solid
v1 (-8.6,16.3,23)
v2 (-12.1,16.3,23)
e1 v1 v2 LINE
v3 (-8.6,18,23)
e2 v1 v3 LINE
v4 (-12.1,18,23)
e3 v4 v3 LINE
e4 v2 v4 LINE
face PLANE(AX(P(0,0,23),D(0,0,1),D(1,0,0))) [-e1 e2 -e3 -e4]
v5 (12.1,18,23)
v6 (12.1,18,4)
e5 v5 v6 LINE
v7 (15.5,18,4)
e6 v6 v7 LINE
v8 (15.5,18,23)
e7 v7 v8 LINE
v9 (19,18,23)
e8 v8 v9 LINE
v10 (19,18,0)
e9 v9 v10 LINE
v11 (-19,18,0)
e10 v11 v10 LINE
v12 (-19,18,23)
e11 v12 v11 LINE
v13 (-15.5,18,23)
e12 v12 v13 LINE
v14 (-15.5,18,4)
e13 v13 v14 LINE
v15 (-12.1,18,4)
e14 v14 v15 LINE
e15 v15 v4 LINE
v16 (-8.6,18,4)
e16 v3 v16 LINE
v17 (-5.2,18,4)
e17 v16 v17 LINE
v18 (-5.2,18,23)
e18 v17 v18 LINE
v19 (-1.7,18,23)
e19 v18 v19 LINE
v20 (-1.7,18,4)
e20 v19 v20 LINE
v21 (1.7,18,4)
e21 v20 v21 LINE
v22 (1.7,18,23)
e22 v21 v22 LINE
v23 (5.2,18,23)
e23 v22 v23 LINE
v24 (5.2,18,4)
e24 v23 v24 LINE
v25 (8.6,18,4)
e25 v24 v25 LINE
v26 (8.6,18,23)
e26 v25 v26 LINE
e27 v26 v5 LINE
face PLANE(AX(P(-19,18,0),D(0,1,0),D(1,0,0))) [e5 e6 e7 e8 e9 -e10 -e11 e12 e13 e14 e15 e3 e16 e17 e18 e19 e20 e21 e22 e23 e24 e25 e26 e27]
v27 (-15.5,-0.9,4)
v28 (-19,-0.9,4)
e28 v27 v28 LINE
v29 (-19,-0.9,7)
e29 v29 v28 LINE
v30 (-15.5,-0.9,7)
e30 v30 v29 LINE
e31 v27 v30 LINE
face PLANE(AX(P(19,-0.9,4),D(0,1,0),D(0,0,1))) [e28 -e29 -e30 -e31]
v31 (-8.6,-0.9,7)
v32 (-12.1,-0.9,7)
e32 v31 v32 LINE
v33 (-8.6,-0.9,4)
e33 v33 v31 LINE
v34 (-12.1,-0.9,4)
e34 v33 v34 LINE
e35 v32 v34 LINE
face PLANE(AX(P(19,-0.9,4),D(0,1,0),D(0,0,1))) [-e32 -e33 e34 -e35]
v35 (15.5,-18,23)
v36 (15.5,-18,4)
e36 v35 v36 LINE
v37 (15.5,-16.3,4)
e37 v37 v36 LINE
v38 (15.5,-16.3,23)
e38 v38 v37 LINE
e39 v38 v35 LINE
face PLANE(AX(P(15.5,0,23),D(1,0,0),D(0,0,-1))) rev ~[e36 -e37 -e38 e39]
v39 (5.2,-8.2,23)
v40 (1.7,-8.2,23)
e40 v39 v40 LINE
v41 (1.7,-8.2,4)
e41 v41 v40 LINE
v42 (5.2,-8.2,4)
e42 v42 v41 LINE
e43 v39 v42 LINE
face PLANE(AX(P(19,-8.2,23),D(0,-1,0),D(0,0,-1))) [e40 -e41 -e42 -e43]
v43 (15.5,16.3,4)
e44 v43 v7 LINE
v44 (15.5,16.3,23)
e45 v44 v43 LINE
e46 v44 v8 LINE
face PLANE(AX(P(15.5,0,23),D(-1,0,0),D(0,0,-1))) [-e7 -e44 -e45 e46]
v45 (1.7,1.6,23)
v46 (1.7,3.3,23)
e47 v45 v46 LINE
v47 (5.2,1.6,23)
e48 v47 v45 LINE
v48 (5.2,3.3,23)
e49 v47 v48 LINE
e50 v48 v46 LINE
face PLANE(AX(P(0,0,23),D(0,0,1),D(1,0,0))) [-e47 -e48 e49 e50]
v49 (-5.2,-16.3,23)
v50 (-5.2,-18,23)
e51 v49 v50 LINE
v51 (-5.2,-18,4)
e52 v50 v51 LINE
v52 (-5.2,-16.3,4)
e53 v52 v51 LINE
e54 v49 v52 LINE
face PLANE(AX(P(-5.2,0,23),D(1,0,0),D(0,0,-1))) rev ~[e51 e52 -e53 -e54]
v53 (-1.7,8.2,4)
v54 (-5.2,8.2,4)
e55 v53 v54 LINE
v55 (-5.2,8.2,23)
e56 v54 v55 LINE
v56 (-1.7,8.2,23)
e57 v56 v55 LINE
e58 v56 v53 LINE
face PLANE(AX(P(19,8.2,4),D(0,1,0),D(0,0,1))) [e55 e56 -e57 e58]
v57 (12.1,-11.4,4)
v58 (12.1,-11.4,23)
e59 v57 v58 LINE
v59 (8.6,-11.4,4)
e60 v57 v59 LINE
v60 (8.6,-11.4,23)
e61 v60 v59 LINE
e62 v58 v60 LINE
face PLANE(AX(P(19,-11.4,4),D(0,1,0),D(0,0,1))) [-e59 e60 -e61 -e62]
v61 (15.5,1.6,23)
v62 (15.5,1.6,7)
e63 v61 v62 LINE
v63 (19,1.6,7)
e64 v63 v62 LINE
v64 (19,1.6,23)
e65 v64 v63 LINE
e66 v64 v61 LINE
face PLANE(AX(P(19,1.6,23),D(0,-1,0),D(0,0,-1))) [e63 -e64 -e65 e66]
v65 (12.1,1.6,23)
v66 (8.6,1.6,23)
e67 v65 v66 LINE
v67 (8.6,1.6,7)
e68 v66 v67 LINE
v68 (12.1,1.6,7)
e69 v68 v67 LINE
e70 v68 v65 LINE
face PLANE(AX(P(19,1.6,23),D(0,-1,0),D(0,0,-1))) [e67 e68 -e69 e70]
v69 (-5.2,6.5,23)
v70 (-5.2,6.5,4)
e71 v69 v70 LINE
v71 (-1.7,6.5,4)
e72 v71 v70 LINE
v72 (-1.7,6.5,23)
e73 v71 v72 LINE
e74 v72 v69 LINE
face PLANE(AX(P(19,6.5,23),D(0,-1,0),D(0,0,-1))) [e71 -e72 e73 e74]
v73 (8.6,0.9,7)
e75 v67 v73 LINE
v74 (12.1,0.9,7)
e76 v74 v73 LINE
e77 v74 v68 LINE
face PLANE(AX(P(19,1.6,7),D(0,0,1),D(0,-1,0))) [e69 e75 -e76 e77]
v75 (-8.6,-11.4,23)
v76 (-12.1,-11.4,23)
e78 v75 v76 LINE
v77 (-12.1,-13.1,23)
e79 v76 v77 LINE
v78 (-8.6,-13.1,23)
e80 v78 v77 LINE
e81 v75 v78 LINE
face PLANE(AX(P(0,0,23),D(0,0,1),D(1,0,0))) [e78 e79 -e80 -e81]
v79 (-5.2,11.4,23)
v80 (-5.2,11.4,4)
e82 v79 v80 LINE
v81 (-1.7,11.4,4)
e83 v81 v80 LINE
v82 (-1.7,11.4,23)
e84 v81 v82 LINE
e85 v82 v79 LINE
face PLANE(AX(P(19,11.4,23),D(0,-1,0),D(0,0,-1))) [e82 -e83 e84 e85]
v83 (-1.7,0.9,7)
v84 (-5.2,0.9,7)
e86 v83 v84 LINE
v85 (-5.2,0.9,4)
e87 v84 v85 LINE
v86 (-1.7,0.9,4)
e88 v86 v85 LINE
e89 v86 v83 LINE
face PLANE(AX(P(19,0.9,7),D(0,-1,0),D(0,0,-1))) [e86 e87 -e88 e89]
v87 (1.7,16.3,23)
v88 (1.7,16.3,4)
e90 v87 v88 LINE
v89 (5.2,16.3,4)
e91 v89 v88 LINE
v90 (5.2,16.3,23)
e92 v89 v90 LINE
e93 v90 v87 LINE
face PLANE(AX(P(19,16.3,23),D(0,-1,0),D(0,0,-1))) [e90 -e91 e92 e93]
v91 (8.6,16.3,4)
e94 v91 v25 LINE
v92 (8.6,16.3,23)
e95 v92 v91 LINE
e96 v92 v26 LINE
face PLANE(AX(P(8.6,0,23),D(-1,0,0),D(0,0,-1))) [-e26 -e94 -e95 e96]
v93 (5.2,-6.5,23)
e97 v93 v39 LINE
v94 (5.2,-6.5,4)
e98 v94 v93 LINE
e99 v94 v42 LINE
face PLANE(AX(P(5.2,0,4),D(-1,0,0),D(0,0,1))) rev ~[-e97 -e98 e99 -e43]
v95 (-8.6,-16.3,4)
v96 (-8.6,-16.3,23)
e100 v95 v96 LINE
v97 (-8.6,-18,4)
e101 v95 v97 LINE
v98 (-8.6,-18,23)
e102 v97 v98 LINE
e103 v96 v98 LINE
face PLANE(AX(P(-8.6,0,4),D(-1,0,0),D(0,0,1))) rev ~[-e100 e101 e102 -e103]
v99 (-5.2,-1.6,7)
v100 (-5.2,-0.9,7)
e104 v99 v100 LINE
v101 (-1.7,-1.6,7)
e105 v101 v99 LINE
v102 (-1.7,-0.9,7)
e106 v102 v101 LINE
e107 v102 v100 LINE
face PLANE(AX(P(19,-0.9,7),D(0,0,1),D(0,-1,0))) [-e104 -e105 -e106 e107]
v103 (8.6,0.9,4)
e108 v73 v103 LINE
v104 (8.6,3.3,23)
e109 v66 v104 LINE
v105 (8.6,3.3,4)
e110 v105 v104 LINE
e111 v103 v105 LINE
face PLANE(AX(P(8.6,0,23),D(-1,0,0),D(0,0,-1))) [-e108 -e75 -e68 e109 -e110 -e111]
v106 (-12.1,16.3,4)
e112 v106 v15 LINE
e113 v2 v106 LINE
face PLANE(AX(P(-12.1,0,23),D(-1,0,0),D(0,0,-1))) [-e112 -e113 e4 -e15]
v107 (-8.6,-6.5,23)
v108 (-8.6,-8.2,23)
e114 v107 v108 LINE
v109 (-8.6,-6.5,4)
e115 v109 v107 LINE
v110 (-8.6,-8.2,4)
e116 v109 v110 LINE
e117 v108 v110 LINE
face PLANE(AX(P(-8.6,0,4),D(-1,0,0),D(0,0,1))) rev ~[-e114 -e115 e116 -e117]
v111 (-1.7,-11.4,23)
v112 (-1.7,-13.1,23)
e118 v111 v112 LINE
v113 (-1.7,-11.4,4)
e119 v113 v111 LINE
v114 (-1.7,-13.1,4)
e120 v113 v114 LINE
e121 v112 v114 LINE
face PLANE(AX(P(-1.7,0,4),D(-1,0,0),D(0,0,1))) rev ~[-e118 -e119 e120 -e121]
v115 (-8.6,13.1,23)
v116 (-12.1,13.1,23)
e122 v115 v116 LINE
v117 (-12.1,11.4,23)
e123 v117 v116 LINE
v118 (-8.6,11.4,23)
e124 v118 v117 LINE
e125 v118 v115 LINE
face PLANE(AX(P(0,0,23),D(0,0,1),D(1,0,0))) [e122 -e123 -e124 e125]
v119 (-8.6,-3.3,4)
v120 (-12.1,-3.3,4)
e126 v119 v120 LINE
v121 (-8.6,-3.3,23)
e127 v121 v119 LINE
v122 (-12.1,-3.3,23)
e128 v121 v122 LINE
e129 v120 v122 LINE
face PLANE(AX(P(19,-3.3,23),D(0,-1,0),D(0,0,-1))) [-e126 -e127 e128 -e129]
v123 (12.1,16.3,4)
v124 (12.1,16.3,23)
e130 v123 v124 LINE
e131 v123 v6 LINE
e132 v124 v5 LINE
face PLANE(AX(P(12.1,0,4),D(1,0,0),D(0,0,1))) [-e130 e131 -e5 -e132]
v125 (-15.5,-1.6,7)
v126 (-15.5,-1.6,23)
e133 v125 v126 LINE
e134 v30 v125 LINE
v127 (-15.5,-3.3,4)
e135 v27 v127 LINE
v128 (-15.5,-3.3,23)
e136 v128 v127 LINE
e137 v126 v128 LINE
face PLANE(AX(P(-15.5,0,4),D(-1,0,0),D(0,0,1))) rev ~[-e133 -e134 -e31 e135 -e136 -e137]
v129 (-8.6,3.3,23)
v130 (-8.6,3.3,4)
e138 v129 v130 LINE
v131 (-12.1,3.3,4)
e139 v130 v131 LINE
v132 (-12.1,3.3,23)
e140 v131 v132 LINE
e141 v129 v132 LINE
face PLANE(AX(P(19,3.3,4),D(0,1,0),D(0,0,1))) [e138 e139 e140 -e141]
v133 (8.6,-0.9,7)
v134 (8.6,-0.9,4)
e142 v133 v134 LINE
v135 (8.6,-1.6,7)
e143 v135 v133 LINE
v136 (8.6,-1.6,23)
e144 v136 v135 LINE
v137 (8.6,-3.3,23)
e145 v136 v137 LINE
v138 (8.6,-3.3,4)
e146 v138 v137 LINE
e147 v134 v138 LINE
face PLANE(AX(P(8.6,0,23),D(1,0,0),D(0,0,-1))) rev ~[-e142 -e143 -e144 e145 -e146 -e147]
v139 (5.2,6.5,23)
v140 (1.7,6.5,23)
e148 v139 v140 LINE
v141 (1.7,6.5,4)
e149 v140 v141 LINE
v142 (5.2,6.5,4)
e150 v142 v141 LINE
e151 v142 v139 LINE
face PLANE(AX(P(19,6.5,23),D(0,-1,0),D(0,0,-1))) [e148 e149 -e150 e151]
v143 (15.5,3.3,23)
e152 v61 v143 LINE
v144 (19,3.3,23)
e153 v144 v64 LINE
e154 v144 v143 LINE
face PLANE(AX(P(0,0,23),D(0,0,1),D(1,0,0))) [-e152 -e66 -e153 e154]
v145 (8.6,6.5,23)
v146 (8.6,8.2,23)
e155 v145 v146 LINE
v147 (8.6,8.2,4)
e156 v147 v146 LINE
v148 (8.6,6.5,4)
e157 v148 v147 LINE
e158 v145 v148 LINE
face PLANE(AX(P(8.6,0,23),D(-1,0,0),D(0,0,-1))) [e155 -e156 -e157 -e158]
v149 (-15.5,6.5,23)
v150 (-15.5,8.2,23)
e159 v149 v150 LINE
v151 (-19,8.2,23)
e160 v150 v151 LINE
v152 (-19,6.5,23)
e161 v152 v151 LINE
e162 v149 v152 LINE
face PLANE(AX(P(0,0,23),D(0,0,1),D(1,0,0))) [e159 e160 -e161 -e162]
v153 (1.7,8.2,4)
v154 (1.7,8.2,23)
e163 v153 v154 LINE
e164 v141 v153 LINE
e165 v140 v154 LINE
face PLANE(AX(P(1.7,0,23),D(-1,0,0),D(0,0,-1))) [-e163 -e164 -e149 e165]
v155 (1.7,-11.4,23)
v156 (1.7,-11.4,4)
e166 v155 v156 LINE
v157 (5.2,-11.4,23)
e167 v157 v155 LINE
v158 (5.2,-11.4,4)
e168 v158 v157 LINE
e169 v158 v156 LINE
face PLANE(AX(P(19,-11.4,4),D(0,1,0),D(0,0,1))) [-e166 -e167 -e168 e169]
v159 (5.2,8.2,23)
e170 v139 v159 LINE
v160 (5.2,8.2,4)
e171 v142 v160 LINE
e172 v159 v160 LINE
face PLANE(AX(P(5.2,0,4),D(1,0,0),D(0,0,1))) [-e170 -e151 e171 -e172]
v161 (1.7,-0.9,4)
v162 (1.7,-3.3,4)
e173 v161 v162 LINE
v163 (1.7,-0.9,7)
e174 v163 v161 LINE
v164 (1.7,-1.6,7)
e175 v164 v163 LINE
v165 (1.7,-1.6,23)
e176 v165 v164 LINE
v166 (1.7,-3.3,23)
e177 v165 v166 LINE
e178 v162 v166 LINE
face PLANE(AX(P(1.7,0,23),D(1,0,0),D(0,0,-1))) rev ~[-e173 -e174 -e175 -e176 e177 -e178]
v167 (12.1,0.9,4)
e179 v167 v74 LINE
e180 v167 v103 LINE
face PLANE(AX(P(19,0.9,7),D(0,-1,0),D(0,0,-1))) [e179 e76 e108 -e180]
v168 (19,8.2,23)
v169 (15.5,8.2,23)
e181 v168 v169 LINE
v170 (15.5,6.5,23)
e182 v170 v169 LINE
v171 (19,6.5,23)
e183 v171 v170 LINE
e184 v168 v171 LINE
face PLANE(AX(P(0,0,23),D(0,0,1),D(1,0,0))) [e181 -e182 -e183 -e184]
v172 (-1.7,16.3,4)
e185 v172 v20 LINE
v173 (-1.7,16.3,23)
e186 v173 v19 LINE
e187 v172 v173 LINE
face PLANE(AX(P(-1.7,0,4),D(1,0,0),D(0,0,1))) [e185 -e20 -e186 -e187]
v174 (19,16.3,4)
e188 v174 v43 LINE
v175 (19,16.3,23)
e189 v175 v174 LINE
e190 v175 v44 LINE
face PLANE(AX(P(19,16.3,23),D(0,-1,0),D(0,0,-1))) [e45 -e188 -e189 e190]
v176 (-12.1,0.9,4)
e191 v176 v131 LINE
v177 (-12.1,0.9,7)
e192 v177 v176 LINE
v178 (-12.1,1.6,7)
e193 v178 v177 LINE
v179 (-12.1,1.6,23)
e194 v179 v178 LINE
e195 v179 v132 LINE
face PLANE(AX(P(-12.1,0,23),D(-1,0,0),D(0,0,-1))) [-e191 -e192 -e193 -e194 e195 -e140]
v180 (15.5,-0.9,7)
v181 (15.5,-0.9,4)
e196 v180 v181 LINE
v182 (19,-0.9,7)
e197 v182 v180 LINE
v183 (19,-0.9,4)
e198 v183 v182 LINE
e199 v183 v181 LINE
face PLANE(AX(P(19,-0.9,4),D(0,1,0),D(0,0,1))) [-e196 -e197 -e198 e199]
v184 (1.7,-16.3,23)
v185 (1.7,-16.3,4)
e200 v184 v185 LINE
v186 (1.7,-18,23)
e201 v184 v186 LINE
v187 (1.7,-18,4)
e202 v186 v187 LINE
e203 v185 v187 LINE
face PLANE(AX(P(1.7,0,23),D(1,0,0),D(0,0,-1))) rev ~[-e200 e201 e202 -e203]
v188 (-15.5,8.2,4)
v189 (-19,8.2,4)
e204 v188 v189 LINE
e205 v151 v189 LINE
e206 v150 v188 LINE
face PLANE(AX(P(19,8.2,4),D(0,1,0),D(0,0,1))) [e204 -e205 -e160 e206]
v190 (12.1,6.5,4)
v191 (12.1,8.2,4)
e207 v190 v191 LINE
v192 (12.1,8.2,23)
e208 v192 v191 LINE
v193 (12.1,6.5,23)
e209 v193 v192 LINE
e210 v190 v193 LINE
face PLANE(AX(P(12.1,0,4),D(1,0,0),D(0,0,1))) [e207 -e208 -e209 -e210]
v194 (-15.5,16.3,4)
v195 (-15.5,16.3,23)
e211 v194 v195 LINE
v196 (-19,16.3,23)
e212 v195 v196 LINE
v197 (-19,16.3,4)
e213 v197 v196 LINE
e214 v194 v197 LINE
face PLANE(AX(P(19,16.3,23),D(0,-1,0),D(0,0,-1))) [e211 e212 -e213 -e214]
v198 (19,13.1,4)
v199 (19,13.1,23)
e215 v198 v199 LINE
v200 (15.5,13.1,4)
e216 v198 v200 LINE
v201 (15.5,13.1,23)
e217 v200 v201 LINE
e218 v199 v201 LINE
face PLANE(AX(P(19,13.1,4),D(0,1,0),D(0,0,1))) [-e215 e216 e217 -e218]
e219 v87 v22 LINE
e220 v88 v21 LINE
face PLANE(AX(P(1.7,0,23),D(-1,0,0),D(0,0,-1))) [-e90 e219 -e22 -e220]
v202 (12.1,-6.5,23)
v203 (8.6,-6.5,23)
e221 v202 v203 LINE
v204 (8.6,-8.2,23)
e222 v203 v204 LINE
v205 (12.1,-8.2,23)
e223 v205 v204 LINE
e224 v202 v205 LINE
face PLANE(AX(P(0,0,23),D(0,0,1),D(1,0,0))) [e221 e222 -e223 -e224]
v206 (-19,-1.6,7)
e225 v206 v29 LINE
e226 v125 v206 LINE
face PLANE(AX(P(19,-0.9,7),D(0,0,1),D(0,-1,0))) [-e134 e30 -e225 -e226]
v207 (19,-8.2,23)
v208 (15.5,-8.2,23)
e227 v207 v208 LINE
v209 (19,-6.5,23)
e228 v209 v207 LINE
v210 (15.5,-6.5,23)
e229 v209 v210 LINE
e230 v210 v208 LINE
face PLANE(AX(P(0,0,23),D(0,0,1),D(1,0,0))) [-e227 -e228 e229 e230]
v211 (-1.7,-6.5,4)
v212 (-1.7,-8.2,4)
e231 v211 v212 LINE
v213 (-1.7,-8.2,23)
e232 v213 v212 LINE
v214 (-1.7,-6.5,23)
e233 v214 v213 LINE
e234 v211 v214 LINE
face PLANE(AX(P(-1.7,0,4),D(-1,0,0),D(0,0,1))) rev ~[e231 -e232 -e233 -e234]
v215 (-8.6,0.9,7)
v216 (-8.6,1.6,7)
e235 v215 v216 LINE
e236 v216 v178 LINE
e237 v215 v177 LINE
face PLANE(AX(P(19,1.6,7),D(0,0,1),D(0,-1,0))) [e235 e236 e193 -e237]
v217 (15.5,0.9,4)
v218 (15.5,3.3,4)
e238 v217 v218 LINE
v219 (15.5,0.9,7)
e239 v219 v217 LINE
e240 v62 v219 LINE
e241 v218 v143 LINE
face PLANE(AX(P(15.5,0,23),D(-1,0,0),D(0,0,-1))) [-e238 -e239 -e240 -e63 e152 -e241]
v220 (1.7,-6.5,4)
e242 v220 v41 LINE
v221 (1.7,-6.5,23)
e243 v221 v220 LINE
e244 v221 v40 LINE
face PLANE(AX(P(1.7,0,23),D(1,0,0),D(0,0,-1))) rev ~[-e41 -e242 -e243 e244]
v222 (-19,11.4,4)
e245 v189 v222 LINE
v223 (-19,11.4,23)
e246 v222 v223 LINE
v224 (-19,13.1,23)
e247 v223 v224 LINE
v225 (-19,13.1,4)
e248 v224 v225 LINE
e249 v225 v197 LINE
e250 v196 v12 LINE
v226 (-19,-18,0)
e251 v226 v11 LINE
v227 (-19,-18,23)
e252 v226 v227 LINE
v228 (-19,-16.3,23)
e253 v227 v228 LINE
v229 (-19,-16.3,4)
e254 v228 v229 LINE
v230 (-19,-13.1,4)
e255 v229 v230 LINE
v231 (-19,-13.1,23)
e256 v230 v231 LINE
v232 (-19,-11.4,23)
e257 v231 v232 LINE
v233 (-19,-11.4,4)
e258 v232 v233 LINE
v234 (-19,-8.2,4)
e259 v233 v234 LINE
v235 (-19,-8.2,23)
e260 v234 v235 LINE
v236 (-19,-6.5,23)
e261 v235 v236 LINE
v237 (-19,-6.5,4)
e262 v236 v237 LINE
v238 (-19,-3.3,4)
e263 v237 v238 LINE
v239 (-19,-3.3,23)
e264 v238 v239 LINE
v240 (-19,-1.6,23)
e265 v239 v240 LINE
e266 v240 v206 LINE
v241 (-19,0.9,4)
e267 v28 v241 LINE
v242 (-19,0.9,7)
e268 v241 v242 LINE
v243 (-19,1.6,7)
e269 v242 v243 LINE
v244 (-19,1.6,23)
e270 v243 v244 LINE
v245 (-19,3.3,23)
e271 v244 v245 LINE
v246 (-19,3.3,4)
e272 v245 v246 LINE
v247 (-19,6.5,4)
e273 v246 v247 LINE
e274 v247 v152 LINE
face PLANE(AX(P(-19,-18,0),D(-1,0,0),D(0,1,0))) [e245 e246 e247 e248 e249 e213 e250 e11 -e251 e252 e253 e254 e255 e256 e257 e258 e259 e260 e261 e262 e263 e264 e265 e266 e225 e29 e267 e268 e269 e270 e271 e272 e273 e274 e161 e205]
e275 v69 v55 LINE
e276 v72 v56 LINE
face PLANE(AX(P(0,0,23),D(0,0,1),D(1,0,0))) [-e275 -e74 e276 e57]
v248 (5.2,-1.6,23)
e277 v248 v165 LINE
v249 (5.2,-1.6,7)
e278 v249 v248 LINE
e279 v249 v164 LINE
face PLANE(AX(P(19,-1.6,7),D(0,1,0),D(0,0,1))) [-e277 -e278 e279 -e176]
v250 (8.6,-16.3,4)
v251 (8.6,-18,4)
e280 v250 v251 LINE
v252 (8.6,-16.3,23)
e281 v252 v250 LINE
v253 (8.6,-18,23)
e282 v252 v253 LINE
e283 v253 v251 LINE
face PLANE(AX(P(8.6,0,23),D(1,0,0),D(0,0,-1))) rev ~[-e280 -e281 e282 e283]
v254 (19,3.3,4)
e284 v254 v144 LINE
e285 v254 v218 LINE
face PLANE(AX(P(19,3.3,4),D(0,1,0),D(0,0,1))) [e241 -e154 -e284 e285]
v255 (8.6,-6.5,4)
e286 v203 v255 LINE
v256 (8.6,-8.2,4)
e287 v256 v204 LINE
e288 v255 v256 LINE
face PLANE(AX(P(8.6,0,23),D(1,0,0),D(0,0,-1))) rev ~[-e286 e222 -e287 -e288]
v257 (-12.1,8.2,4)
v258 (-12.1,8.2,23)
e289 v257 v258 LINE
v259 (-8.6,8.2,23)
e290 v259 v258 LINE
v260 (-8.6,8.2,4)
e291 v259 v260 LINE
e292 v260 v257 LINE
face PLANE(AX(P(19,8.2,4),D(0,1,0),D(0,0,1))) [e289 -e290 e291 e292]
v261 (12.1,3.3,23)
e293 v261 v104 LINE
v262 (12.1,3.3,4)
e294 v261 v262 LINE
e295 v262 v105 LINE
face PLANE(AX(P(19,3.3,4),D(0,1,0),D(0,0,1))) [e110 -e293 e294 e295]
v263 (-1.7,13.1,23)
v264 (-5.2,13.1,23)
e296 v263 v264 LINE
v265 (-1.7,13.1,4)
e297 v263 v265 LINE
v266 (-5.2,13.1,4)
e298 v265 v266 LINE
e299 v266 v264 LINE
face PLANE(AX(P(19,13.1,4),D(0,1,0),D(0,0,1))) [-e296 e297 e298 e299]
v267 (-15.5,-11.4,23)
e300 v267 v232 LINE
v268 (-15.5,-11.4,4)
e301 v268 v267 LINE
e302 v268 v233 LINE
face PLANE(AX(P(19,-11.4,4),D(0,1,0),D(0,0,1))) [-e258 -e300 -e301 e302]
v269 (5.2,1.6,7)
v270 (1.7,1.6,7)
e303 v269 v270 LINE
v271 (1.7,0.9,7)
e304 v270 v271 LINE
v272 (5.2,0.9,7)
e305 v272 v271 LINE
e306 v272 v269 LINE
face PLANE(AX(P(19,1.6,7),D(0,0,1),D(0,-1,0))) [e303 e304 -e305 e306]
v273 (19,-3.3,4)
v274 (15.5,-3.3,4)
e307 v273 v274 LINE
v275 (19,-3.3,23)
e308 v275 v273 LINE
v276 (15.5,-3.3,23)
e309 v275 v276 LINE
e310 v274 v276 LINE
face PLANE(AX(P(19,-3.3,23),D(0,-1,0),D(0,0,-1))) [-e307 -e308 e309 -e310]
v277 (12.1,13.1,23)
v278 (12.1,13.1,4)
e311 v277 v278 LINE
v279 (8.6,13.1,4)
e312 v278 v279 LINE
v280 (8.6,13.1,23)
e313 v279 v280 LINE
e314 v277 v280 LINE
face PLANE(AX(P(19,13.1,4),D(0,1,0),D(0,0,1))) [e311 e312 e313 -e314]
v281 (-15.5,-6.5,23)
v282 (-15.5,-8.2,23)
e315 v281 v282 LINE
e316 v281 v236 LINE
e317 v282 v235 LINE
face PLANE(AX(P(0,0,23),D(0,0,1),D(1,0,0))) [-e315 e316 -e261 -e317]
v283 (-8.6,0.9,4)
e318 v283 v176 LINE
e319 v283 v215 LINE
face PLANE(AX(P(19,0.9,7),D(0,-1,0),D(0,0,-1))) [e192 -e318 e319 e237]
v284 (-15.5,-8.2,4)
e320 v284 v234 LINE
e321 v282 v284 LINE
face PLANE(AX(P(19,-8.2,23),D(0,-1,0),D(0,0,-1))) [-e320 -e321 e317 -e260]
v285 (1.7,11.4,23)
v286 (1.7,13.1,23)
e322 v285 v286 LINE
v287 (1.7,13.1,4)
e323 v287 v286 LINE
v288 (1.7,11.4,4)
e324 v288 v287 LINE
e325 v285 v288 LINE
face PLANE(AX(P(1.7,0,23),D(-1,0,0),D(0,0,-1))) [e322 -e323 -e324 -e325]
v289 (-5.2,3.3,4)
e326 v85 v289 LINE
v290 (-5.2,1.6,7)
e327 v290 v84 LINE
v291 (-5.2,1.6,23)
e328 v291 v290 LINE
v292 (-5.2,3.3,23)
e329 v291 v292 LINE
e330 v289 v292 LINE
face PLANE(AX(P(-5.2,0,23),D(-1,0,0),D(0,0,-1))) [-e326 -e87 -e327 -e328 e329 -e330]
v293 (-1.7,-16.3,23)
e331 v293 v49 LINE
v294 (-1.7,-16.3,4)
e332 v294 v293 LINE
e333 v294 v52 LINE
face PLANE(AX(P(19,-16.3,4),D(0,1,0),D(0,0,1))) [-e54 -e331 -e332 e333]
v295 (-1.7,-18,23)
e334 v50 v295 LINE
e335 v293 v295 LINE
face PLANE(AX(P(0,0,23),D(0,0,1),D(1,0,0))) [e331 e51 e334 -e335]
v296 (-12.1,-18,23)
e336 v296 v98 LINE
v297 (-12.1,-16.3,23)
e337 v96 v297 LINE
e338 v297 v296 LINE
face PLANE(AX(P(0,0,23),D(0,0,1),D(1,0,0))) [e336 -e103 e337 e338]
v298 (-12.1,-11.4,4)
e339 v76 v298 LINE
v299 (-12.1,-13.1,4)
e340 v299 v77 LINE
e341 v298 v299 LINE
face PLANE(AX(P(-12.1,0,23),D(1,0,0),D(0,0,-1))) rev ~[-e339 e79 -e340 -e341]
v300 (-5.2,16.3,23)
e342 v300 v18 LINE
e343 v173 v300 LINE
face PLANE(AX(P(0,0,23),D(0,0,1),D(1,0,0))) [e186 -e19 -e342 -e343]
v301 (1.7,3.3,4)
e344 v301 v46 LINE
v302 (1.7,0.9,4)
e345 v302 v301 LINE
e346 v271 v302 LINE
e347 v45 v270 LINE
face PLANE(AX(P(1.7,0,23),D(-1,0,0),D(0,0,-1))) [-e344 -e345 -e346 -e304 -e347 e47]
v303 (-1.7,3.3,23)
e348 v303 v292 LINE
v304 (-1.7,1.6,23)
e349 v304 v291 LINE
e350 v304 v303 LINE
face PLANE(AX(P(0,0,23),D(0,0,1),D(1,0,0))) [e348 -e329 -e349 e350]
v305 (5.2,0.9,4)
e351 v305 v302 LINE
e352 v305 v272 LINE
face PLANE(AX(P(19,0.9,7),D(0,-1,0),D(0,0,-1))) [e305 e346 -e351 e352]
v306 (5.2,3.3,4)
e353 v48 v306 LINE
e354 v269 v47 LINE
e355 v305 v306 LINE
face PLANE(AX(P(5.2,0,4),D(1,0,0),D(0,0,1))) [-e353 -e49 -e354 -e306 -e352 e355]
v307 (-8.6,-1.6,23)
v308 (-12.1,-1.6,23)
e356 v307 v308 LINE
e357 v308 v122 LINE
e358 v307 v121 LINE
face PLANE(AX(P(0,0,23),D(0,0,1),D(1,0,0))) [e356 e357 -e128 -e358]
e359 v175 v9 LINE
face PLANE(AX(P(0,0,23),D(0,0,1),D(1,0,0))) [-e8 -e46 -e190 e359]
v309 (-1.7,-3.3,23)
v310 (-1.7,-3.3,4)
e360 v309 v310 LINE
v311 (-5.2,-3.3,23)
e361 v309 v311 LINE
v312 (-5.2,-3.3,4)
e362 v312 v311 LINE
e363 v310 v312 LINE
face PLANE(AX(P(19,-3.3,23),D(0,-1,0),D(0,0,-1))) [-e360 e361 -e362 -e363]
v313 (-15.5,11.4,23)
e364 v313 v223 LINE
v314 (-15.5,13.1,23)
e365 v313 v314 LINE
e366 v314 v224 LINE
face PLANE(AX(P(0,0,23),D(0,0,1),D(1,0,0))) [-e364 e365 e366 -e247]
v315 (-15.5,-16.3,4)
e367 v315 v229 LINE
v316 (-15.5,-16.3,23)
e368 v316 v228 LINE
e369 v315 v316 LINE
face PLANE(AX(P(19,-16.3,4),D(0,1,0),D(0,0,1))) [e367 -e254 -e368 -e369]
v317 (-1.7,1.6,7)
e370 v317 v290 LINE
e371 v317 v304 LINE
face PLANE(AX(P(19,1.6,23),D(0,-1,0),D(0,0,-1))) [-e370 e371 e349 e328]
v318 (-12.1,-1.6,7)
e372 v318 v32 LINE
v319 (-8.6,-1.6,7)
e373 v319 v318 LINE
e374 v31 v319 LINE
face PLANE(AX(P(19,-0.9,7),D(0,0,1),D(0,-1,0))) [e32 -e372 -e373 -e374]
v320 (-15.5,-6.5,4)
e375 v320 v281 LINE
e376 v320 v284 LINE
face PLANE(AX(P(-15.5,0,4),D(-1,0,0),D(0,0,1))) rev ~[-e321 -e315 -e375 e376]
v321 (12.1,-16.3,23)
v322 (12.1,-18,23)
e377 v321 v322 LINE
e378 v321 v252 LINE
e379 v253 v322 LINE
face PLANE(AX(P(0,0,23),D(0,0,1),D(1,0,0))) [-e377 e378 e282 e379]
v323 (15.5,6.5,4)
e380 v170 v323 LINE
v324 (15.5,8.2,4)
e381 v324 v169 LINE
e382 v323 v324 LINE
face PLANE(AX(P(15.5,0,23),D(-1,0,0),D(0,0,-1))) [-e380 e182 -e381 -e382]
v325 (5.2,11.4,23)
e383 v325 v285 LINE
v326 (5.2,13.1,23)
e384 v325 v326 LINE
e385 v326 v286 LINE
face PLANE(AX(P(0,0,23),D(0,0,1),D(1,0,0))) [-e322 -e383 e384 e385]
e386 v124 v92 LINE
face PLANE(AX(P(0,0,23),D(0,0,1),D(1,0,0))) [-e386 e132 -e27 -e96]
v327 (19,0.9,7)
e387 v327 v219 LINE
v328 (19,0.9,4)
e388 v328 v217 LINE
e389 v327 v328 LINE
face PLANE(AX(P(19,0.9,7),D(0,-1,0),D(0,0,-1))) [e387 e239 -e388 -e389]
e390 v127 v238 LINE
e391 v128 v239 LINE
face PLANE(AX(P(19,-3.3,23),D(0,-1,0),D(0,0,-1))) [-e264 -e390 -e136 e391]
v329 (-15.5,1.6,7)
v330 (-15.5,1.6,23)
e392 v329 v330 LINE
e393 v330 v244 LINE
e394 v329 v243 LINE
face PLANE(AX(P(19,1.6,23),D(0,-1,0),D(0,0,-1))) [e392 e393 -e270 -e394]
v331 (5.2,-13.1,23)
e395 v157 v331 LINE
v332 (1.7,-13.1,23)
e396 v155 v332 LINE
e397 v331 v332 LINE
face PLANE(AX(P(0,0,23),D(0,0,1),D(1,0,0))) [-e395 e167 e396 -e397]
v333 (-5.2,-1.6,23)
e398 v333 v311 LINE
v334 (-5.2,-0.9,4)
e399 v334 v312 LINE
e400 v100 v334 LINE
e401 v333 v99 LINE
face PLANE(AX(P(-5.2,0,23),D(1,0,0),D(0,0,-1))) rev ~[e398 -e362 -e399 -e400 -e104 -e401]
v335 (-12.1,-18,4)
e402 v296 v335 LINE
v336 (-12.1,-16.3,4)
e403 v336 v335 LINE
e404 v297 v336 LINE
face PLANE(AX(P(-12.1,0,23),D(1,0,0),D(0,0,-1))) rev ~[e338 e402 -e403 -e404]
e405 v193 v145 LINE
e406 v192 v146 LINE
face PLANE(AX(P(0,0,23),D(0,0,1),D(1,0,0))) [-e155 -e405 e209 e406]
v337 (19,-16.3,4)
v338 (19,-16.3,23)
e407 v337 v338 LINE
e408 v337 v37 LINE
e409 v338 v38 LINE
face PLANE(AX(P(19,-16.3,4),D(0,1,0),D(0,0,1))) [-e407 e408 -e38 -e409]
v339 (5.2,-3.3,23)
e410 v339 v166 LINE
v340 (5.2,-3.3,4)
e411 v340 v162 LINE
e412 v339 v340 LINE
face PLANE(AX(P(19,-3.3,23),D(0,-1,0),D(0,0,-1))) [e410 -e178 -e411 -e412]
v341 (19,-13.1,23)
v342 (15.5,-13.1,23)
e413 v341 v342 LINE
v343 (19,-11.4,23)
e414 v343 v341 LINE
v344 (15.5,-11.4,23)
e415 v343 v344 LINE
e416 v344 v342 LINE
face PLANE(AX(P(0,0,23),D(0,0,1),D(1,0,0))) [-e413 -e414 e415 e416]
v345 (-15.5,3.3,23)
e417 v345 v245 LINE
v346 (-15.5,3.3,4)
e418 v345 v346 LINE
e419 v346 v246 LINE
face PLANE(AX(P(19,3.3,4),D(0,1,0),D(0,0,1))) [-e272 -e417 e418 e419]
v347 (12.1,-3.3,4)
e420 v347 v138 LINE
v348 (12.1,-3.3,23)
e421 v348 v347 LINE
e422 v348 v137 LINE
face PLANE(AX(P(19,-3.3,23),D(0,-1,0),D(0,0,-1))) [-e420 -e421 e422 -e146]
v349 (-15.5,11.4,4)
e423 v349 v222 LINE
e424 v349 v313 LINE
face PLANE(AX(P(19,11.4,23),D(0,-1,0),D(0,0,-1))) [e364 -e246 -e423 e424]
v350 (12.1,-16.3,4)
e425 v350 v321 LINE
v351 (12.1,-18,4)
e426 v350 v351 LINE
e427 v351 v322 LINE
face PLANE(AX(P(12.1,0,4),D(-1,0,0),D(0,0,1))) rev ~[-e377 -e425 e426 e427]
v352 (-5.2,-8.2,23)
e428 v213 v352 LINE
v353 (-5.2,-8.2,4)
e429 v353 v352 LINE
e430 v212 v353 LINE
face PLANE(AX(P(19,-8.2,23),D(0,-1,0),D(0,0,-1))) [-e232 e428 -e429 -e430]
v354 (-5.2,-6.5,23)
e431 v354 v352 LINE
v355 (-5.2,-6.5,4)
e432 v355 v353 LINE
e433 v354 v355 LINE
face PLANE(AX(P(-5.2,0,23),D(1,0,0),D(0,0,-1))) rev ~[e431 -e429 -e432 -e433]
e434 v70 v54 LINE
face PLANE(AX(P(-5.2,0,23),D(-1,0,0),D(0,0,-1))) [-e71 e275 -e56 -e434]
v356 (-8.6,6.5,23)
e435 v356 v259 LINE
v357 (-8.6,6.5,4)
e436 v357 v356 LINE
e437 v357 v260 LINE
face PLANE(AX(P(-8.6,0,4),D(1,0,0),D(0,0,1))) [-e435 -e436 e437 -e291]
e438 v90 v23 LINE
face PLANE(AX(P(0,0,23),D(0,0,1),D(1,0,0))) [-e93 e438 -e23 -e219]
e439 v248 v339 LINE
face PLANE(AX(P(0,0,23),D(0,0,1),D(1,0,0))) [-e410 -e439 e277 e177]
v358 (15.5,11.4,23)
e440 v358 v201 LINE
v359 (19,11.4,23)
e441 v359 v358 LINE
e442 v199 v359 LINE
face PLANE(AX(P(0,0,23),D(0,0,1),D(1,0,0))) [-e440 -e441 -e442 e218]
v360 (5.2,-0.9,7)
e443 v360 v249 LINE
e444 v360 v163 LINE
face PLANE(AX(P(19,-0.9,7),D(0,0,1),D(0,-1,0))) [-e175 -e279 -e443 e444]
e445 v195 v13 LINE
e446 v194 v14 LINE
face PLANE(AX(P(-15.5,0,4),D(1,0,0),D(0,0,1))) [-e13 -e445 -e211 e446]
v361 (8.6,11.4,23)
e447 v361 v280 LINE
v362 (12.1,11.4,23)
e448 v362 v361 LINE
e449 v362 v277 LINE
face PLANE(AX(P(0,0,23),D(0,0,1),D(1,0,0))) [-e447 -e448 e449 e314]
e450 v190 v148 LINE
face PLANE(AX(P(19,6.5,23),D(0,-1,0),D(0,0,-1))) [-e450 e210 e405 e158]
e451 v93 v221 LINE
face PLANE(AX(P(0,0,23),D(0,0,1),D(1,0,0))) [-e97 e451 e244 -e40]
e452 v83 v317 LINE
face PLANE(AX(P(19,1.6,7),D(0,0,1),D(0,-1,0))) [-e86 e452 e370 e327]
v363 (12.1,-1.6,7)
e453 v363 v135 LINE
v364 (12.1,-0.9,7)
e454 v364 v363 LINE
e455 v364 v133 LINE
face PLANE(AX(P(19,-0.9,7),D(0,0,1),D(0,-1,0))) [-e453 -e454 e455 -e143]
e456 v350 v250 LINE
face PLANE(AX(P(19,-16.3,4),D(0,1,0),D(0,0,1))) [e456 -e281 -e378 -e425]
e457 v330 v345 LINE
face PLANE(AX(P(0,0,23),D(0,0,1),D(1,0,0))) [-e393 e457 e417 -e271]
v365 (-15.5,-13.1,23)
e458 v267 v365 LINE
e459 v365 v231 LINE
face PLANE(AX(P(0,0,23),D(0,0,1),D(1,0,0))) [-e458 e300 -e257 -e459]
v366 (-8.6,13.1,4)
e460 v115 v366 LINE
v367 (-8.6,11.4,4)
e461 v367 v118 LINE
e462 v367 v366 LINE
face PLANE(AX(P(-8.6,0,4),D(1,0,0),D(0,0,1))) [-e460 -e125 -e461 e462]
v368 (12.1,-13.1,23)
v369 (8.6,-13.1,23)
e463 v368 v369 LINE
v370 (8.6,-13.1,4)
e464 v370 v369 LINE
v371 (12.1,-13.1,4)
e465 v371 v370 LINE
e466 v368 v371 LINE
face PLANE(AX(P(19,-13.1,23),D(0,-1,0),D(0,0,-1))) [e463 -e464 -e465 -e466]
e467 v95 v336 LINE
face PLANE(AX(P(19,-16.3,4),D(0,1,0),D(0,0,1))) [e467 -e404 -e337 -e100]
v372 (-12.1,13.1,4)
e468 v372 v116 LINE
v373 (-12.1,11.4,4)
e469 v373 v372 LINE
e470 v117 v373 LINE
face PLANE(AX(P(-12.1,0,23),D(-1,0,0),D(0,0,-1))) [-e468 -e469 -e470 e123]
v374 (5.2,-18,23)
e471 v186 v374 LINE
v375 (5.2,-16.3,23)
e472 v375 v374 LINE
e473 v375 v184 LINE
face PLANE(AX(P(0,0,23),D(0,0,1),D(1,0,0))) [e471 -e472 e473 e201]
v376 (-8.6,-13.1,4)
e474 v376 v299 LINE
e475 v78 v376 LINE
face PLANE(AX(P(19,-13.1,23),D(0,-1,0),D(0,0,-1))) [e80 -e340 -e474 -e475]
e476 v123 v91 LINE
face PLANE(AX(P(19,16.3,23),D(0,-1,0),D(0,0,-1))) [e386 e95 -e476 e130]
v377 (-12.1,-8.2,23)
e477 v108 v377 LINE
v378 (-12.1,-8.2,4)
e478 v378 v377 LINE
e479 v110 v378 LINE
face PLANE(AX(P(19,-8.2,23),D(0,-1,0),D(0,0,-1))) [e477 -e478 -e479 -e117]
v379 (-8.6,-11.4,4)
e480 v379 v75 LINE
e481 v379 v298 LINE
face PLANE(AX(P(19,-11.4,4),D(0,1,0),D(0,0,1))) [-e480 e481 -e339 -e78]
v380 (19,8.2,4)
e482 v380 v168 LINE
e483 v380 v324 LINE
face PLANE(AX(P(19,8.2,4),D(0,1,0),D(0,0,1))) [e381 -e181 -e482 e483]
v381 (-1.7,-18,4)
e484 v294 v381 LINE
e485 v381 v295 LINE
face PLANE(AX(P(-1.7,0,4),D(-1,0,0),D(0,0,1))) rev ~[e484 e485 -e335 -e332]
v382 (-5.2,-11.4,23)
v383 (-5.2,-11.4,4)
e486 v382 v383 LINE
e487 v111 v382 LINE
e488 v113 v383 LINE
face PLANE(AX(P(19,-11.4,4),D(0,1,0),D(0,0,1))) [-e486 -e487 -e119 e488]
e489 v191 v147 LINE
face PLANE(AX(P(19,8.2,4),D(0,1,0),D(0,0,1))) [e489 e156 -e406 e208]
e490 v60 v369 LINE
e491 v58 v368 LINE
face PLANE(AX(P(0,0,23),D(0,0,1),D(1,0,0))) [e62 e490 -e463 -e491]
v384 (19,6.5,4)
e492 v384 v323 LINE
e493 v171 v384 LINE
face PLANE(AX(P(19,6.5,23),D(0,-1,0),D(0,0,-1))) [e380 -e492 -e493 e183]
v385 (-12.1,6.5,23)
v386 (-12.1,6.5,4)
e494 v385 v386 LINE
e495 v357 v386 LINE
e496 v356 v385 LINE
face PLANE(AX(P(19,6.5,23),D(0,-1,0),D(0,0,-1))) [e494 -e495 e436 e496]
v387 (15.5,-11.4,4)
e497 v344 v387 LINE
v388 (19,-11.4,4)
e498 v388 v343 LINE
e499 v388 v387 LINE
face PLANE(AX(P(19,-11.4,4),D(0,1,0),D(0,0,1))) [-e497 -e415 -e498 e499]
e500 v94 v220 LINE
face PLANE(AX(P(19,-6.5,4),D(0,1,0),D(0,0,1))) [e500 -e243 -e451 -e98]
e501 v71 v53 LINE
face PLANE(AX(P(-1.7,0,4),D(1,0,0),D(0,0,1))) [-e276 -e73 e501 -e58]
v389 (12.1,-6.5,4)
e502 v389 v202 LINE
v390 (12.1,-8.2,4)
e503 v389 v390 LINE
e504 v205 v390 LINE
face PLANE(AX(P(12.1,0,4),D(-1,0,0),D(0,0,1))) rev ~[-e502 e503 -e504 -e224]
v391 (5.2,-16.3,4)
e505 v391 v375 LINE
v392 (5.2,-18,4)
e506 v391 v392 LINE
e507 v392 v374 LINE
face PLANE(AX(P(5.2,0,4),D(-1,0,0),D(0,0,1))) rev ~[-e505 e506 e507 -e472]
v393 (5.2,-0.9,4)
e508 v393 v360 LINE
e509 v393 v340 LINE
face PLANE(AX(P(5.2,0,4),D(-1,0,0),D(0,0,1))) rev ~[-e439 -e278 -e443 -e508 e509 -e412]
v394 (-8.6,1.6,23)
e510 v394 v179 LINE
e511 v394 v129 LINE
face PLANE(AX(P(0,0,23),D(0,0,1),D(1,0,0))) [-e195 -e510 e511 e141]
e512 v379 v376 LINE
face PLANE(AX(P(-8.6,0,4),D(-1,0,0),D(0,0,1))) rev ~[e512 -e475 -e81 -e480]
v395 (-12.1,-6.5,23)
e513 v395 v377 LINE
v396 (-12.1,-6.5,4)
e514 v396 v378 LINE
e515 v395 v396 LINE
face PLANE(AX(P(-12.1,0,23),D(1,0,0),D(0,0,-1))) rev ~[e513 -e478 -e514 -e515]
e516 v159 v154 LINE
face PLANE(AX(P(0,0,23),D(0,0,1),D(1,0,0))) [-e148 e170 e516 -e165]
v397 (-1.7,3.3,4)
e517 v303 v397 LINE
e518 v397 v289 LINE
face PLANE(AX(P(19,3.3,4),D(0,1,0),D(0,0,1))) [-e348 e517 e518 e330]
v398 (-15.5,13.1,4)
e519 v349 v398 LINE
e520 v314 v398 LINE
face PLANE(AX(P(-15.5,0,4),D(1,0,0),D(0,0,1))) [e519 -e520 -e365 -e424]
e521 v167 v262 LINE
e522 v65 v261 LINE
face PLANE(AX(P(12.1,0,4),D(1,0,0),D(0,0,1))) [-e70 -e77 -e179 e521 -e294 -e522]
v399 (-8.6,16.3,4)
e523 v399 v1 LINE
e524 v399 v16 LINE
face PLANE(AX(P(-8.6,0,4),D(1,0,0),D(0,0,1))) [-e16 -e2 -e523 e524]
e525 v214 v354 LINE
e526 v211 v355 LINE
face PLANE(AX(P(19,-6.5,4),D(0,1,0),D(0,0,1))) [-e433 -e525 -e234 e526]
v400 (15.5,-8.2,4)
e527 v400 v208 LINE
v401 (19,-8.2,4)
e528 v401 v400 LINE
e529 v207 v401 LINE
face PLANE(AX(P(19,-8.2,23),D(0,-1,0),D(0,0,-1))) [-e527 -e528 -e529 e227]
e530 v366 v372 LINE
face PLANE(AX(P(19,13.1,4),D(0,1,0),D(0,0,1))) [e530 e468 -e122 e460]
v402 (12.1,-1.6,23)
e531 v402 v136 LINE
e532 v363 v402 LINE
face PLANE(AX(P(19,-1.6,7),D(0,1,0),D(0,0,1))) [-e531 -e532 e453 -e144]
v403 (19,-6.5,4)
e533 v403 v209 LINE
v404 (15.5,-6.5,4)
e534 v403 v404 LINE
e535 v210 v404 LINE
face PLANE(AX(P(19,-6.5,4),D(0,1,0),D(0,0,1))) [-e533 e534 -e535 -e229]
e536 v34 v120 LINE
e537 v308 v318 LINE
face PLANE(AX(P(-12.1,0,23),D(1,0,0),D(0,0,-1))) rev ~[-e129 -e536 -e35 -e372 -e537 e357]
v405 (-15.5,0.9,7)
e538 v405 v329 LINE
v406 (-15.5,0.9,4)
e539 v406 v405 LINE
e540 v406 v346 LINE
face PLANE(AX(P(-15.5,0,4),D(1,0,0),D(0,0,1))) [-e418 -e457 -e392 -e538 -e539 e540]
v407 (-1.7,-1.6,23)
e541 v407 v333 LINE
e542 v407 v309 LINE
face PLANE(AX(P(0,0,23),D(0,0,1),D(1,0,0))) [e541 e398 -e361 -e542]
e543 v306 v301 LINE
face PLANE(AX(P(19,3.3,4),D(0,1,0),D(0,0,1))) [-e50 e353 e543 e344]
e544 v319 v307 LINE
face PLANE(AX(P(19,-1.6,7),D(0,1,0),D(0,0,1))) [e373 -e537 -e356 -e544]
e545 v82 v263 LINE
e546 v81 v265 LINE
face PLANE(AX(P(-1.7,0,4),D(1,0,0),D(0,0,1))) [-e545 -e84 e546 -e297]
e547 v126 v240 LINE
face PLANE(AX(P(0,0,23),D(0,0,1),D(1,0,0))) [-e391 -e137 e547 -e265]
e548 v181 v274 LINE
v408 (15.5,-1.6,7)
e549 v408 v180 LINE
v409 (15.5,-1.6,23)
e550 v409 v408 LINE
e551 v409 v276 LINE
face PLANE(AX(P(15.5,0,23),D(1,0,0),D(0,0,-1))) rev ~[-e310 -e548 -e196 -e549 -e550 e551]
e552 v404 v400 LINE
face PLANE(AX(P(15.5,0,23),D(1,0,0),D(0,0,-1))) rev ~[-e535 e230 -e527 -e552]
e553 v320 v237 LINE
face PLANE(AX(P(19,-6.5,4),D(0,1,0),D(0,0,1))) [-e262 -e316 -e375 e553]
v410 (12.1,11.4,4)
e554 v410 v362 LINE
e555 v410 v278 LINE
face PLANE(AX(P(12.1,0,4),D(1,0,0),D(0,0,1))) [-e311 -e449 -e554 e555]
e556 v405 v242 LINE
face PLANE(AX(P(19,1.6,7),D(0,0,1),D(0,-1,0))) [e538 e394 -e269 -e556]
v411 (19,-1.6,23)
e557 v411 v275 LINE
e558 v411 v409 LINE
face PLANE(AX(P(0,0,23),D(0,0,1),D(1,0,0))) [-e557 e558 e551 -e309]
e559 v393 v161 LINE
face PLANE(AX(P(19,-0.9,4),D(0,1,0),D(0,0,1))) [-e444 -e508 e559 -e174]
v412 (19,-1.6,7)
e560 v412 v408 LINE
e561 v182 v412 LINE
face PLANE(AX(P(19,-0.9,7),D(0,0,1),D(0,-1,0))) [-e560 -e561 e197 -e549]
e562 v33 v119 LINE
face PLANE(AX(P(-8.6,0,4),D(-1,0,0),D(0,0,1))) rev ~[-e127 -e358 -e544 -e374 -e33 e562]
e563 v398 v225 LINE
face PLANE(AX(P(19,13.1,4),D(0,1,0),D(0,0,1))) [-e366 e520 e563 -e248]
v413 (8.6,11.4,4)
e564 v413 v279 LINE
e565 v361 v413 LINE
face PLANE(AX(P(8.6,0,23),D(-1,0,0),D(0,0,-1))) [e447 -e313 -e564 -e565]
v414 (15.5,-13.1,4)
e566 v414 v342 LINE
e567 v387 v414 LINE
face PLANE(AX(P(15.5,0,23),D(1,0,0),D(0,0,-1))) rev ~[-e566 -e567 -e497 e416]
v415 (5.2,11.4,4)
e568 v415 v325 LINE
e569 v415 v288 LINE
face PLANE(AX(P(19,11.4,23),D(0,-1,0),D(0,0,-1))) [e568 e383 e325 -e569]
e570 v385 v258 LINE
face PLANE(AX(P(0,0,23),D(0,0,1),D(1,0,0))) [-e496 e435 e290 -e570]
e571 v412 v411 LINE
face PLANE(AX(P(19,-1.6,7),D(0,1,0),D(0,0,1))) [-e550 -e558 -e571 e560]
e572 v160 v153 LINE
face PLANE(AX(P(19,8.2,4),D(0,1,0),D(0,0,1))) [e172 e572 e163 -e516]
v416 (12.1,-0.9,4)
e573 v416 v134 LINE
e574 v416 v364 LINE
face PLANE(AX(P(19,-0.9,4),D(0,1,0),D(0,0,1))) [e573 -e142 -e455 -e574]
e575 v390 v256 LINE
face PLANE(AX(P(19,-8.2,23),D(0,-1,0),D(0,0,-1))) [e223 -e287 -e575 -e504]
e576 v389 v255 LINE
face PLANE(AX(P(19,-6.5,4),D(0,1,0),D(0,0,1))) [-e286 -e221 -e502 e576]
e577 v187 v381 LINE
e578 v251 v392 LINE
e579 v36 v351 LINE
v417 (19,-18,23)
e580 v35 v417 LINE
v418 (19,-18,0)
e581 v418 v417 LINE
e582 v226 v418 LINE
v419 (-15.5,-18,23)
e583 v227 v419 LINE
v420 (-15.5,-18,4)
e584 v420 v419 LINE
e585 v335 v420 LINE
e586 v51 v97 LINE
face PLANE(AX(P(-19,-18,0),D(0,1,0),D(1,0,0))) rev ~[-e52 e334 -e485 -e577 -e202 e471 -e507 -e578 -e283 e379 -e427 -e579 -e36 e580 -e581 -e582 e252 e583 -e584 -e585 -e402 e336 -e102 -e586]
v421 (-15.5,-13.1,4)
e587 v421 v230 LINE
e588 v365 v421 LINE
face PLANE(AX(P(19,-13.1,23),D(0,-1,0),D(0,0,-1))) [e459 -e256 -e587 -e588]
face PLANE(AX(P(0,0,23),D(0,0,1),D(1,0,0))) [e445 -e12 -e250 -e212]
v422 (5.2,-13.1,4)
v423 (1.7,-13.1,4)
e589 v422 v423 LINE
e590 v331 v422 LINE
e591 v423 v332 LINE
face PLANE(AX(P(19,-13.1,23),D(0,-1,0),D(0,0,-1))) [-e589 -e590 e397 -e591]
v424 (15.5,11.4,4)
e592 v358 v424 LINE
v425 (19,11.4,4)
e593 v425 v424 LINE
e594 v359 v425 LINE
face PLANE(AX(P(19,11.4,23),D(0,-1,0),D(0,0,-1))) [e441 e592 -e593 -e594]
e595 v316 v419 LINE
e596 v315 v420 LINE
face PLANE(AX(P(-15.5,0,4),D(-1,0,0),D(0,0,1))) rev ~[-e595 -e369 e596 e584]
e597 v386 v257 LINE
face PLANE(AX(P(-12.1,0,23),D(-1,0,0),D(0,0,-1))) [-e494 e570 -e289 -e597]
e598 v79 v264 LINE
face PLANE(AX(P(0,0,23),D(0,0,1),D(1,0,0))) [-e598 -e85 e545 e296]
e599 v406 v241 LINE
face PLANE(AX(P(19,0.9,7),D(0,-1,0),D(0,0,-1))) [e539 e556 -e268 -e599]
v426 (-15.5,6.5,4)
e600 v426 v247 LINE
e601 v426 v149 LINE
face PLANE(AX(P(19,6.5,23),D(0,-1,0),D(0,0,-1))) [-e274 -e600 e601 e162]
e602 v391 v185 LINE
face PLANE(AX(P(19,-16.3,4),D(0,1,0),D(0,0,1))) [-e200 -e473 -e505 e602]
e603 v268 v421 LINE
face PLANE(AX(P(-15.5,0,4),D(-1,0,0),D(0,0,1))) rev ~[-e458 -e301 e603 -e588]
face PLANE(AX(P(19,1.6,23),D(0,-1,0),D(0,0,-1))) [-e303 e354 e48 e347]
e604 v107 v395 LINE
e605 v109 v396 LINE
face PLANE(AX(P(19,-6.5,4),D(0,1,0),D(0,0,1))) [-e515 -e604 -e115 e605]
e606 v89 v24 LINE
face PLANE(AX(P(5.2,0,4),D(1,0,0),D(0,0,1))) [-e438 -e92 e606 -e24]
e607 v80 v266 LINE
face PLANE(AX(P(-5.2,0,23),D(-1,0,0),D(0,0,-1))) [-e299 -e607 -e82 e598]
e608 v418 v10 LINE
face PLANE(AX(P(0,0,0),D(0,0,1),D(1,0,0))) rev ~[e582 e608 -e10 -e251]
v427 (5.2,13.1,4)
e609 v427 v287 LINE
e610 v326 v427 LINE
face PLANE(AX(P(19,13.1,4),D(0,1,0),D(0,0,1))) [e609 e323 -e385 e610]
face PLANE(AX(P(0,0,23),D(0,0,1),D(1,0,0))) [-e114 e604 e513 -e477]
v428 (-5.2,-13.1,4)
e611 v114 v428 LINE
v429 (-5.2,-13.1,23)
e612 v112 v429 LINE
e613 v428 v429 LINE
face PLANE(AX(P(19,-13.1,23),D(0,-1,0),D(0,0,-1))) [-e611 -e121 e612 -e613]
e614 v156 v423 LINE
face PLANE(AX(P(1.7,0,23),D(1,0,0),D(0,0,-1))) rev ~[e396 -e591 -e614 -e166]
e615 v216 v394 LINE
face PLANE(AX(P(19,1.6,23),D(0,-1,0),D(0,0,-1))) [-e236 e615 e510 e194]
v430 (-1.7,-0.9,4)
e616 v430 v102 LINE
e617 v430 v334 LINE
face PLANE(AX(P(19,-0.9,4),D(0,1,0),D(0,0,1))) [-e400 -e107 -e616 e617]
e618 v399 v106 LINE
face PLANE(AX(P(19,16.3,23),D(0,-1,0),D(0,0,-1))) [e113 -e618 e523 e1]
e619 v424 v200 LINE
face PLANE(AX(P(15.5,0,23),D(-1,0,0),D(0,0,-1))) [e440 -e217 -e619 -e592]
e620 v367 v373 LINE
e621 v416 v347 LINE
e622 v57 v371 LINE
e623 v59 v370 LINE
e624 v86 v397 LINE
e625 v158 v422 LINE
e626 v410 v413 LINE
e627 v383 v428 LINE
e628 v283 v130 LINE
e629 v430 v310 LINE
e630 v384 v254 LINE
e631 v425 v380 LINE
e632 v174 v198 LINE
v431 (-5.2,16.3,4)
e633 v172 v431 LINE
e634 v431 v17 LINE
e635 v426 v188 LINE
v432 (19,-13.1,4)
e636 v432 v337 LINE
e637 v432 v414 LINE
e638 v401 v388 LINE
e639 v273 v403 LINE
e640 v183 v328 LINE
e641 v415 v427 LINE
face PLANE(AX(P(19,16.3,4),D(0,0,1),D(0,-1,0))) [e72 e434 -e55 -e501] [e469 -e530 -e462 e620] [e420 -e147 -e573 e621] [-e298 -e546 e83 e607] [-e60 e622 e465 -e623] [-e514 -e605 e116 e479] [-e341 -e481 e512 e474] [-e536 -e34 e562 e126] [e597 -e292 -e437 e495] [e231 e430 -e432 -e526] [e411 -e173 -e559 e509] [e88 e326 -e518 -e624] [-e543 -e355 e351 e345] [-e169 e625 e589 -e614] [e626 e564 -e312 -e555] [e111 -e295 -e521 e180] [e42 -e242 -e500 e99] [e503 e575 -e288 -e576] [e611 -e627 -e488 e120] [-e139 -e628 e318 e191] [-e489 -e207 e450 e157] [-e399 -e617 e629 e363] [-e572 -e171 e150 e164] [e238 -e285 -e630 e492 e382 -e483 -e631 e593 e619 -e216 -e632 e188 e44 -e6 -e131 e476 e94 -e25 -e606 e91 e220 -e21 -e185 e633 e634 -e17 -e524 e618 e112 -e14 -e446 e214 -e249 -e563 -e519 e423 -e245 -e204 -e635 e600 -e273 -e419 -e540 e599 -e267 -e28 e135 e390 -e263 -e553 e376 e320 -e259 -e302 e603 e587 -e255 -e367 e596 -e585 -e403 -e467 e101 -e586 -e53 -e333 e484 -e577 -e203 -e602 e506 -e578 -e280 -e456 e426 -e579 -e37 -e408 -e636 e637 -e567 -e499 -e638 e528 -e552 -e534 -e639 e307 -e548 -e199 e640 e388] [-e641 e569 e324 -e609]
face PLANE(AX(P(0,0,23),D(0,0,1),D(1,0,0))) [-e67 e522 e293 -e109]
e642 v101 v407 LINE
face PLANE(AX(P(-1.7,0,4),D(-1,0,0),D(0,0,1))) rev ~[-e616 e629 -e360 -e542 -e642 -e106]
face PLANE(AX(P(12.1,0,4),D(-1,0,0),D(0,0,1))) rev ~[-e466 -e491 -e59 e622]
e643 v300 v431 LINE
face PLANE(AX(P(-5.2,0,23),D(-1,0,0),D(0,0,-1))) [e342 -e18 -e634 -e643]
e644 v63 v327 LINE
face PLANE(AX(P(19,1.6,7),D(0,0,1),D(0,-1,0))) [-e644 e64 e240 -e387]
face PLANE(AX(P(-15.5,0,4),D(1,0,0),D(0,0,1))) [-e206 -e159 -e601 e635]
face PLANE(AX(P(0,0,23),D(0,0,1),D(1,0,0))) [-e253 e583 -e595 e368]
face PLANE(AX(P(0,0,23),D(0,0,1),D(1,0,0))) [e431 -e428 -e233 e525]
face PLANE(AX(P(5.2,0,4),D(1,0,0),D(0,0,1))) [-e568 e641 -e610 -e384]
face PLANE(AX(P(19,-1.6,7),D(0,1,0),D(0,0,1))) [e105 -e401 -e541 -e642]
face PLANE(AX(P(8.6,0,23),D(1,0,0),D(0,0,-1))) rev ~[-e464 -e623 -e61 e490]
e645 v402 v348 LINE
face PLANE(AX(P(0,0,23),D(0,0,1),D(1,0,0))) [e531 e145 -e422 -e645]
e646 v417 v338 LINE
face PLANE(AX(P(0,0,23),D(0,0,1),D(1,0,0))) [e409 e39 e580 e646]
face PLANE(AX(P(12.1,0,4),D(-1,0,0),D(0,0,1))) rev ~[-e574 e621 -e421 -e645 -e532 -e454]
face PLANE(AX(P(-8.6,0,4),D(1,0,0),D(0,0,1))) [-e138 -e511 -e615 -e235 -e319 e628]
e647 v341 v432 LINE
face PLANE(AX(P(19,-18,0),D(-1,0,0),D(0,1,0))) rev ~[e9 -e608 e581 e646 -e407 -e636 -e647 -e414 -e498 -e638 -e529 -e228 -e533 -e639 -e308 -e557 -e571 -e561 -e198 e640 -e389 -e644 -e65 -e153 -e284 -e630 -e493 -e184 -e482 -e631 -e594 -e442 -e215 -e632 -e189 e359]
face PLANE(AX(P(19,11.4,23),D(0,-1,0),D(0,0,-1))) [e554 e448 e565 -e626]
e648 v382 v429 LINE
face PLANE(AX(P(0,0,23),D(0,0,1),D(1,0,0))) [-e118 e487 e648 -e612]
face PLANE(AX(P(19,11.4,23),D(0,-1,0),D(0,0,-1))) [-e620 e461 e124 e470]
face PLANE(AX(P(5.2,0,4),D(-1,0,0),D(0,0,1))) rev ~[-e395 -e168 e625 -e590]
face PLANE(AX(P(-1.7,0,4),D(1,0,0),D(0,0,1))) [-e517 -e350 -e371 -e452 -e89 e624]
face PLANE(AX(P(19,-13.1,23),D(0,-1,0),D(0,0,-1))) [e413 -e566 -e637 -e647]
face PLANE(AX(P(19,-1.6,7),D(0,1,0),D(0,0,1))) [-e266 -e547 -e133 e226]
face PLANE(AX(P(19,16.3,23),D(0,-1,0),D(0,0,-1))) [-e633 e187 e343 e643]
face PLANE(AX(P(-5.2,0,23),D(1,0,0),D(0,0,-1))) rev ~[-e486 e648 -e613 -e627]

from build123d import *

# Parameters (mm, degrees)
SKETCH_W             = 38
SKETCH_H             = 36
PAD_DEPTH            = 23
POCKET_DEPTH         = 38.001
POCKET001_DEPTH      = 18.001
POCKET001_DEPTH_BACK = -18.001


with BuildPart() as part:
    # Sketch → Pad (new body)
    with BuildSketch(Plane.XY):
        Rectangle(SKETCH_W, SKETCH_H)
    extrude(amount=PAD_DEPTH)

    # Sketch001 (on Face2 of Pad) → Pocket (cut, through all)
    with BuildSketch(Plane.YZ.offset(19)):
        Polygon((-18, 4), (-21, 4), (-21, 26), (21, 26), (21, 4), (18, 4), (18, 23), (16.3, 23), (16.3, 4), (13.1, 4), (13.1, 23), (11.4, 23), (11.4, 4), (8.2, 4), (8.2, 23), (6.5, 23), (6.5, 4), (3.3, 4), (3.3, 23), (1.6, 23), (1.6, 7), (0.9, 7), (0.9, 4), (-0.9, 4), (-0.9, 7), (-1.6, 7), (-1.6, 23), (-3.3, 23), (-3.3, 4), (-6.5, 4), (-6.5, 23), (-8.2, 23), (-8.2, 4), (-11.4, 4), (-11.4, 23), (-13.1, 23), (-13.1, 4), (-16.3, 4), (-16.3, 23), (-18, 23), align=None)
    extrude(amount=-POCKET_DEPTH, mode=Mode.SUBTRACT)

    # Sketch002 → Pocket001 (cut, two sides)
    with BuildSketch(Plane.XZ) as pocket001_sk:
        Polygon((-19, 23), (-19, 4), (-22.4, 4), (-22.4, 26.4), (22.4, 26.4), (22.4, 4), (19, 4), (19, 23), (15.5, 23), (15.5, 4), (12.1, 4), (12.1, 23), (8.6, 23), (8.6, 4), (5.2, 4), (5.2, 23), (1.7, 23), (1.7, 4), (-1.7, 4), (-1.7, 23), (-5.2, 23), (-5.2, 4), (-8.6, 4), (-8.6, 23), (-12.1, 23), (-12.1, 4), (-15.5, 4), (-15.5, 23), align=None)
    extrude(amount=-POCKET001_DEPTH, mode=Mode.SUBTRACT)
    extrude(pocket001_sk.sketch, amount=-POCKET001_DEPTH_BACK, mode=Mode.SUBTRACT)


solid = part.part
